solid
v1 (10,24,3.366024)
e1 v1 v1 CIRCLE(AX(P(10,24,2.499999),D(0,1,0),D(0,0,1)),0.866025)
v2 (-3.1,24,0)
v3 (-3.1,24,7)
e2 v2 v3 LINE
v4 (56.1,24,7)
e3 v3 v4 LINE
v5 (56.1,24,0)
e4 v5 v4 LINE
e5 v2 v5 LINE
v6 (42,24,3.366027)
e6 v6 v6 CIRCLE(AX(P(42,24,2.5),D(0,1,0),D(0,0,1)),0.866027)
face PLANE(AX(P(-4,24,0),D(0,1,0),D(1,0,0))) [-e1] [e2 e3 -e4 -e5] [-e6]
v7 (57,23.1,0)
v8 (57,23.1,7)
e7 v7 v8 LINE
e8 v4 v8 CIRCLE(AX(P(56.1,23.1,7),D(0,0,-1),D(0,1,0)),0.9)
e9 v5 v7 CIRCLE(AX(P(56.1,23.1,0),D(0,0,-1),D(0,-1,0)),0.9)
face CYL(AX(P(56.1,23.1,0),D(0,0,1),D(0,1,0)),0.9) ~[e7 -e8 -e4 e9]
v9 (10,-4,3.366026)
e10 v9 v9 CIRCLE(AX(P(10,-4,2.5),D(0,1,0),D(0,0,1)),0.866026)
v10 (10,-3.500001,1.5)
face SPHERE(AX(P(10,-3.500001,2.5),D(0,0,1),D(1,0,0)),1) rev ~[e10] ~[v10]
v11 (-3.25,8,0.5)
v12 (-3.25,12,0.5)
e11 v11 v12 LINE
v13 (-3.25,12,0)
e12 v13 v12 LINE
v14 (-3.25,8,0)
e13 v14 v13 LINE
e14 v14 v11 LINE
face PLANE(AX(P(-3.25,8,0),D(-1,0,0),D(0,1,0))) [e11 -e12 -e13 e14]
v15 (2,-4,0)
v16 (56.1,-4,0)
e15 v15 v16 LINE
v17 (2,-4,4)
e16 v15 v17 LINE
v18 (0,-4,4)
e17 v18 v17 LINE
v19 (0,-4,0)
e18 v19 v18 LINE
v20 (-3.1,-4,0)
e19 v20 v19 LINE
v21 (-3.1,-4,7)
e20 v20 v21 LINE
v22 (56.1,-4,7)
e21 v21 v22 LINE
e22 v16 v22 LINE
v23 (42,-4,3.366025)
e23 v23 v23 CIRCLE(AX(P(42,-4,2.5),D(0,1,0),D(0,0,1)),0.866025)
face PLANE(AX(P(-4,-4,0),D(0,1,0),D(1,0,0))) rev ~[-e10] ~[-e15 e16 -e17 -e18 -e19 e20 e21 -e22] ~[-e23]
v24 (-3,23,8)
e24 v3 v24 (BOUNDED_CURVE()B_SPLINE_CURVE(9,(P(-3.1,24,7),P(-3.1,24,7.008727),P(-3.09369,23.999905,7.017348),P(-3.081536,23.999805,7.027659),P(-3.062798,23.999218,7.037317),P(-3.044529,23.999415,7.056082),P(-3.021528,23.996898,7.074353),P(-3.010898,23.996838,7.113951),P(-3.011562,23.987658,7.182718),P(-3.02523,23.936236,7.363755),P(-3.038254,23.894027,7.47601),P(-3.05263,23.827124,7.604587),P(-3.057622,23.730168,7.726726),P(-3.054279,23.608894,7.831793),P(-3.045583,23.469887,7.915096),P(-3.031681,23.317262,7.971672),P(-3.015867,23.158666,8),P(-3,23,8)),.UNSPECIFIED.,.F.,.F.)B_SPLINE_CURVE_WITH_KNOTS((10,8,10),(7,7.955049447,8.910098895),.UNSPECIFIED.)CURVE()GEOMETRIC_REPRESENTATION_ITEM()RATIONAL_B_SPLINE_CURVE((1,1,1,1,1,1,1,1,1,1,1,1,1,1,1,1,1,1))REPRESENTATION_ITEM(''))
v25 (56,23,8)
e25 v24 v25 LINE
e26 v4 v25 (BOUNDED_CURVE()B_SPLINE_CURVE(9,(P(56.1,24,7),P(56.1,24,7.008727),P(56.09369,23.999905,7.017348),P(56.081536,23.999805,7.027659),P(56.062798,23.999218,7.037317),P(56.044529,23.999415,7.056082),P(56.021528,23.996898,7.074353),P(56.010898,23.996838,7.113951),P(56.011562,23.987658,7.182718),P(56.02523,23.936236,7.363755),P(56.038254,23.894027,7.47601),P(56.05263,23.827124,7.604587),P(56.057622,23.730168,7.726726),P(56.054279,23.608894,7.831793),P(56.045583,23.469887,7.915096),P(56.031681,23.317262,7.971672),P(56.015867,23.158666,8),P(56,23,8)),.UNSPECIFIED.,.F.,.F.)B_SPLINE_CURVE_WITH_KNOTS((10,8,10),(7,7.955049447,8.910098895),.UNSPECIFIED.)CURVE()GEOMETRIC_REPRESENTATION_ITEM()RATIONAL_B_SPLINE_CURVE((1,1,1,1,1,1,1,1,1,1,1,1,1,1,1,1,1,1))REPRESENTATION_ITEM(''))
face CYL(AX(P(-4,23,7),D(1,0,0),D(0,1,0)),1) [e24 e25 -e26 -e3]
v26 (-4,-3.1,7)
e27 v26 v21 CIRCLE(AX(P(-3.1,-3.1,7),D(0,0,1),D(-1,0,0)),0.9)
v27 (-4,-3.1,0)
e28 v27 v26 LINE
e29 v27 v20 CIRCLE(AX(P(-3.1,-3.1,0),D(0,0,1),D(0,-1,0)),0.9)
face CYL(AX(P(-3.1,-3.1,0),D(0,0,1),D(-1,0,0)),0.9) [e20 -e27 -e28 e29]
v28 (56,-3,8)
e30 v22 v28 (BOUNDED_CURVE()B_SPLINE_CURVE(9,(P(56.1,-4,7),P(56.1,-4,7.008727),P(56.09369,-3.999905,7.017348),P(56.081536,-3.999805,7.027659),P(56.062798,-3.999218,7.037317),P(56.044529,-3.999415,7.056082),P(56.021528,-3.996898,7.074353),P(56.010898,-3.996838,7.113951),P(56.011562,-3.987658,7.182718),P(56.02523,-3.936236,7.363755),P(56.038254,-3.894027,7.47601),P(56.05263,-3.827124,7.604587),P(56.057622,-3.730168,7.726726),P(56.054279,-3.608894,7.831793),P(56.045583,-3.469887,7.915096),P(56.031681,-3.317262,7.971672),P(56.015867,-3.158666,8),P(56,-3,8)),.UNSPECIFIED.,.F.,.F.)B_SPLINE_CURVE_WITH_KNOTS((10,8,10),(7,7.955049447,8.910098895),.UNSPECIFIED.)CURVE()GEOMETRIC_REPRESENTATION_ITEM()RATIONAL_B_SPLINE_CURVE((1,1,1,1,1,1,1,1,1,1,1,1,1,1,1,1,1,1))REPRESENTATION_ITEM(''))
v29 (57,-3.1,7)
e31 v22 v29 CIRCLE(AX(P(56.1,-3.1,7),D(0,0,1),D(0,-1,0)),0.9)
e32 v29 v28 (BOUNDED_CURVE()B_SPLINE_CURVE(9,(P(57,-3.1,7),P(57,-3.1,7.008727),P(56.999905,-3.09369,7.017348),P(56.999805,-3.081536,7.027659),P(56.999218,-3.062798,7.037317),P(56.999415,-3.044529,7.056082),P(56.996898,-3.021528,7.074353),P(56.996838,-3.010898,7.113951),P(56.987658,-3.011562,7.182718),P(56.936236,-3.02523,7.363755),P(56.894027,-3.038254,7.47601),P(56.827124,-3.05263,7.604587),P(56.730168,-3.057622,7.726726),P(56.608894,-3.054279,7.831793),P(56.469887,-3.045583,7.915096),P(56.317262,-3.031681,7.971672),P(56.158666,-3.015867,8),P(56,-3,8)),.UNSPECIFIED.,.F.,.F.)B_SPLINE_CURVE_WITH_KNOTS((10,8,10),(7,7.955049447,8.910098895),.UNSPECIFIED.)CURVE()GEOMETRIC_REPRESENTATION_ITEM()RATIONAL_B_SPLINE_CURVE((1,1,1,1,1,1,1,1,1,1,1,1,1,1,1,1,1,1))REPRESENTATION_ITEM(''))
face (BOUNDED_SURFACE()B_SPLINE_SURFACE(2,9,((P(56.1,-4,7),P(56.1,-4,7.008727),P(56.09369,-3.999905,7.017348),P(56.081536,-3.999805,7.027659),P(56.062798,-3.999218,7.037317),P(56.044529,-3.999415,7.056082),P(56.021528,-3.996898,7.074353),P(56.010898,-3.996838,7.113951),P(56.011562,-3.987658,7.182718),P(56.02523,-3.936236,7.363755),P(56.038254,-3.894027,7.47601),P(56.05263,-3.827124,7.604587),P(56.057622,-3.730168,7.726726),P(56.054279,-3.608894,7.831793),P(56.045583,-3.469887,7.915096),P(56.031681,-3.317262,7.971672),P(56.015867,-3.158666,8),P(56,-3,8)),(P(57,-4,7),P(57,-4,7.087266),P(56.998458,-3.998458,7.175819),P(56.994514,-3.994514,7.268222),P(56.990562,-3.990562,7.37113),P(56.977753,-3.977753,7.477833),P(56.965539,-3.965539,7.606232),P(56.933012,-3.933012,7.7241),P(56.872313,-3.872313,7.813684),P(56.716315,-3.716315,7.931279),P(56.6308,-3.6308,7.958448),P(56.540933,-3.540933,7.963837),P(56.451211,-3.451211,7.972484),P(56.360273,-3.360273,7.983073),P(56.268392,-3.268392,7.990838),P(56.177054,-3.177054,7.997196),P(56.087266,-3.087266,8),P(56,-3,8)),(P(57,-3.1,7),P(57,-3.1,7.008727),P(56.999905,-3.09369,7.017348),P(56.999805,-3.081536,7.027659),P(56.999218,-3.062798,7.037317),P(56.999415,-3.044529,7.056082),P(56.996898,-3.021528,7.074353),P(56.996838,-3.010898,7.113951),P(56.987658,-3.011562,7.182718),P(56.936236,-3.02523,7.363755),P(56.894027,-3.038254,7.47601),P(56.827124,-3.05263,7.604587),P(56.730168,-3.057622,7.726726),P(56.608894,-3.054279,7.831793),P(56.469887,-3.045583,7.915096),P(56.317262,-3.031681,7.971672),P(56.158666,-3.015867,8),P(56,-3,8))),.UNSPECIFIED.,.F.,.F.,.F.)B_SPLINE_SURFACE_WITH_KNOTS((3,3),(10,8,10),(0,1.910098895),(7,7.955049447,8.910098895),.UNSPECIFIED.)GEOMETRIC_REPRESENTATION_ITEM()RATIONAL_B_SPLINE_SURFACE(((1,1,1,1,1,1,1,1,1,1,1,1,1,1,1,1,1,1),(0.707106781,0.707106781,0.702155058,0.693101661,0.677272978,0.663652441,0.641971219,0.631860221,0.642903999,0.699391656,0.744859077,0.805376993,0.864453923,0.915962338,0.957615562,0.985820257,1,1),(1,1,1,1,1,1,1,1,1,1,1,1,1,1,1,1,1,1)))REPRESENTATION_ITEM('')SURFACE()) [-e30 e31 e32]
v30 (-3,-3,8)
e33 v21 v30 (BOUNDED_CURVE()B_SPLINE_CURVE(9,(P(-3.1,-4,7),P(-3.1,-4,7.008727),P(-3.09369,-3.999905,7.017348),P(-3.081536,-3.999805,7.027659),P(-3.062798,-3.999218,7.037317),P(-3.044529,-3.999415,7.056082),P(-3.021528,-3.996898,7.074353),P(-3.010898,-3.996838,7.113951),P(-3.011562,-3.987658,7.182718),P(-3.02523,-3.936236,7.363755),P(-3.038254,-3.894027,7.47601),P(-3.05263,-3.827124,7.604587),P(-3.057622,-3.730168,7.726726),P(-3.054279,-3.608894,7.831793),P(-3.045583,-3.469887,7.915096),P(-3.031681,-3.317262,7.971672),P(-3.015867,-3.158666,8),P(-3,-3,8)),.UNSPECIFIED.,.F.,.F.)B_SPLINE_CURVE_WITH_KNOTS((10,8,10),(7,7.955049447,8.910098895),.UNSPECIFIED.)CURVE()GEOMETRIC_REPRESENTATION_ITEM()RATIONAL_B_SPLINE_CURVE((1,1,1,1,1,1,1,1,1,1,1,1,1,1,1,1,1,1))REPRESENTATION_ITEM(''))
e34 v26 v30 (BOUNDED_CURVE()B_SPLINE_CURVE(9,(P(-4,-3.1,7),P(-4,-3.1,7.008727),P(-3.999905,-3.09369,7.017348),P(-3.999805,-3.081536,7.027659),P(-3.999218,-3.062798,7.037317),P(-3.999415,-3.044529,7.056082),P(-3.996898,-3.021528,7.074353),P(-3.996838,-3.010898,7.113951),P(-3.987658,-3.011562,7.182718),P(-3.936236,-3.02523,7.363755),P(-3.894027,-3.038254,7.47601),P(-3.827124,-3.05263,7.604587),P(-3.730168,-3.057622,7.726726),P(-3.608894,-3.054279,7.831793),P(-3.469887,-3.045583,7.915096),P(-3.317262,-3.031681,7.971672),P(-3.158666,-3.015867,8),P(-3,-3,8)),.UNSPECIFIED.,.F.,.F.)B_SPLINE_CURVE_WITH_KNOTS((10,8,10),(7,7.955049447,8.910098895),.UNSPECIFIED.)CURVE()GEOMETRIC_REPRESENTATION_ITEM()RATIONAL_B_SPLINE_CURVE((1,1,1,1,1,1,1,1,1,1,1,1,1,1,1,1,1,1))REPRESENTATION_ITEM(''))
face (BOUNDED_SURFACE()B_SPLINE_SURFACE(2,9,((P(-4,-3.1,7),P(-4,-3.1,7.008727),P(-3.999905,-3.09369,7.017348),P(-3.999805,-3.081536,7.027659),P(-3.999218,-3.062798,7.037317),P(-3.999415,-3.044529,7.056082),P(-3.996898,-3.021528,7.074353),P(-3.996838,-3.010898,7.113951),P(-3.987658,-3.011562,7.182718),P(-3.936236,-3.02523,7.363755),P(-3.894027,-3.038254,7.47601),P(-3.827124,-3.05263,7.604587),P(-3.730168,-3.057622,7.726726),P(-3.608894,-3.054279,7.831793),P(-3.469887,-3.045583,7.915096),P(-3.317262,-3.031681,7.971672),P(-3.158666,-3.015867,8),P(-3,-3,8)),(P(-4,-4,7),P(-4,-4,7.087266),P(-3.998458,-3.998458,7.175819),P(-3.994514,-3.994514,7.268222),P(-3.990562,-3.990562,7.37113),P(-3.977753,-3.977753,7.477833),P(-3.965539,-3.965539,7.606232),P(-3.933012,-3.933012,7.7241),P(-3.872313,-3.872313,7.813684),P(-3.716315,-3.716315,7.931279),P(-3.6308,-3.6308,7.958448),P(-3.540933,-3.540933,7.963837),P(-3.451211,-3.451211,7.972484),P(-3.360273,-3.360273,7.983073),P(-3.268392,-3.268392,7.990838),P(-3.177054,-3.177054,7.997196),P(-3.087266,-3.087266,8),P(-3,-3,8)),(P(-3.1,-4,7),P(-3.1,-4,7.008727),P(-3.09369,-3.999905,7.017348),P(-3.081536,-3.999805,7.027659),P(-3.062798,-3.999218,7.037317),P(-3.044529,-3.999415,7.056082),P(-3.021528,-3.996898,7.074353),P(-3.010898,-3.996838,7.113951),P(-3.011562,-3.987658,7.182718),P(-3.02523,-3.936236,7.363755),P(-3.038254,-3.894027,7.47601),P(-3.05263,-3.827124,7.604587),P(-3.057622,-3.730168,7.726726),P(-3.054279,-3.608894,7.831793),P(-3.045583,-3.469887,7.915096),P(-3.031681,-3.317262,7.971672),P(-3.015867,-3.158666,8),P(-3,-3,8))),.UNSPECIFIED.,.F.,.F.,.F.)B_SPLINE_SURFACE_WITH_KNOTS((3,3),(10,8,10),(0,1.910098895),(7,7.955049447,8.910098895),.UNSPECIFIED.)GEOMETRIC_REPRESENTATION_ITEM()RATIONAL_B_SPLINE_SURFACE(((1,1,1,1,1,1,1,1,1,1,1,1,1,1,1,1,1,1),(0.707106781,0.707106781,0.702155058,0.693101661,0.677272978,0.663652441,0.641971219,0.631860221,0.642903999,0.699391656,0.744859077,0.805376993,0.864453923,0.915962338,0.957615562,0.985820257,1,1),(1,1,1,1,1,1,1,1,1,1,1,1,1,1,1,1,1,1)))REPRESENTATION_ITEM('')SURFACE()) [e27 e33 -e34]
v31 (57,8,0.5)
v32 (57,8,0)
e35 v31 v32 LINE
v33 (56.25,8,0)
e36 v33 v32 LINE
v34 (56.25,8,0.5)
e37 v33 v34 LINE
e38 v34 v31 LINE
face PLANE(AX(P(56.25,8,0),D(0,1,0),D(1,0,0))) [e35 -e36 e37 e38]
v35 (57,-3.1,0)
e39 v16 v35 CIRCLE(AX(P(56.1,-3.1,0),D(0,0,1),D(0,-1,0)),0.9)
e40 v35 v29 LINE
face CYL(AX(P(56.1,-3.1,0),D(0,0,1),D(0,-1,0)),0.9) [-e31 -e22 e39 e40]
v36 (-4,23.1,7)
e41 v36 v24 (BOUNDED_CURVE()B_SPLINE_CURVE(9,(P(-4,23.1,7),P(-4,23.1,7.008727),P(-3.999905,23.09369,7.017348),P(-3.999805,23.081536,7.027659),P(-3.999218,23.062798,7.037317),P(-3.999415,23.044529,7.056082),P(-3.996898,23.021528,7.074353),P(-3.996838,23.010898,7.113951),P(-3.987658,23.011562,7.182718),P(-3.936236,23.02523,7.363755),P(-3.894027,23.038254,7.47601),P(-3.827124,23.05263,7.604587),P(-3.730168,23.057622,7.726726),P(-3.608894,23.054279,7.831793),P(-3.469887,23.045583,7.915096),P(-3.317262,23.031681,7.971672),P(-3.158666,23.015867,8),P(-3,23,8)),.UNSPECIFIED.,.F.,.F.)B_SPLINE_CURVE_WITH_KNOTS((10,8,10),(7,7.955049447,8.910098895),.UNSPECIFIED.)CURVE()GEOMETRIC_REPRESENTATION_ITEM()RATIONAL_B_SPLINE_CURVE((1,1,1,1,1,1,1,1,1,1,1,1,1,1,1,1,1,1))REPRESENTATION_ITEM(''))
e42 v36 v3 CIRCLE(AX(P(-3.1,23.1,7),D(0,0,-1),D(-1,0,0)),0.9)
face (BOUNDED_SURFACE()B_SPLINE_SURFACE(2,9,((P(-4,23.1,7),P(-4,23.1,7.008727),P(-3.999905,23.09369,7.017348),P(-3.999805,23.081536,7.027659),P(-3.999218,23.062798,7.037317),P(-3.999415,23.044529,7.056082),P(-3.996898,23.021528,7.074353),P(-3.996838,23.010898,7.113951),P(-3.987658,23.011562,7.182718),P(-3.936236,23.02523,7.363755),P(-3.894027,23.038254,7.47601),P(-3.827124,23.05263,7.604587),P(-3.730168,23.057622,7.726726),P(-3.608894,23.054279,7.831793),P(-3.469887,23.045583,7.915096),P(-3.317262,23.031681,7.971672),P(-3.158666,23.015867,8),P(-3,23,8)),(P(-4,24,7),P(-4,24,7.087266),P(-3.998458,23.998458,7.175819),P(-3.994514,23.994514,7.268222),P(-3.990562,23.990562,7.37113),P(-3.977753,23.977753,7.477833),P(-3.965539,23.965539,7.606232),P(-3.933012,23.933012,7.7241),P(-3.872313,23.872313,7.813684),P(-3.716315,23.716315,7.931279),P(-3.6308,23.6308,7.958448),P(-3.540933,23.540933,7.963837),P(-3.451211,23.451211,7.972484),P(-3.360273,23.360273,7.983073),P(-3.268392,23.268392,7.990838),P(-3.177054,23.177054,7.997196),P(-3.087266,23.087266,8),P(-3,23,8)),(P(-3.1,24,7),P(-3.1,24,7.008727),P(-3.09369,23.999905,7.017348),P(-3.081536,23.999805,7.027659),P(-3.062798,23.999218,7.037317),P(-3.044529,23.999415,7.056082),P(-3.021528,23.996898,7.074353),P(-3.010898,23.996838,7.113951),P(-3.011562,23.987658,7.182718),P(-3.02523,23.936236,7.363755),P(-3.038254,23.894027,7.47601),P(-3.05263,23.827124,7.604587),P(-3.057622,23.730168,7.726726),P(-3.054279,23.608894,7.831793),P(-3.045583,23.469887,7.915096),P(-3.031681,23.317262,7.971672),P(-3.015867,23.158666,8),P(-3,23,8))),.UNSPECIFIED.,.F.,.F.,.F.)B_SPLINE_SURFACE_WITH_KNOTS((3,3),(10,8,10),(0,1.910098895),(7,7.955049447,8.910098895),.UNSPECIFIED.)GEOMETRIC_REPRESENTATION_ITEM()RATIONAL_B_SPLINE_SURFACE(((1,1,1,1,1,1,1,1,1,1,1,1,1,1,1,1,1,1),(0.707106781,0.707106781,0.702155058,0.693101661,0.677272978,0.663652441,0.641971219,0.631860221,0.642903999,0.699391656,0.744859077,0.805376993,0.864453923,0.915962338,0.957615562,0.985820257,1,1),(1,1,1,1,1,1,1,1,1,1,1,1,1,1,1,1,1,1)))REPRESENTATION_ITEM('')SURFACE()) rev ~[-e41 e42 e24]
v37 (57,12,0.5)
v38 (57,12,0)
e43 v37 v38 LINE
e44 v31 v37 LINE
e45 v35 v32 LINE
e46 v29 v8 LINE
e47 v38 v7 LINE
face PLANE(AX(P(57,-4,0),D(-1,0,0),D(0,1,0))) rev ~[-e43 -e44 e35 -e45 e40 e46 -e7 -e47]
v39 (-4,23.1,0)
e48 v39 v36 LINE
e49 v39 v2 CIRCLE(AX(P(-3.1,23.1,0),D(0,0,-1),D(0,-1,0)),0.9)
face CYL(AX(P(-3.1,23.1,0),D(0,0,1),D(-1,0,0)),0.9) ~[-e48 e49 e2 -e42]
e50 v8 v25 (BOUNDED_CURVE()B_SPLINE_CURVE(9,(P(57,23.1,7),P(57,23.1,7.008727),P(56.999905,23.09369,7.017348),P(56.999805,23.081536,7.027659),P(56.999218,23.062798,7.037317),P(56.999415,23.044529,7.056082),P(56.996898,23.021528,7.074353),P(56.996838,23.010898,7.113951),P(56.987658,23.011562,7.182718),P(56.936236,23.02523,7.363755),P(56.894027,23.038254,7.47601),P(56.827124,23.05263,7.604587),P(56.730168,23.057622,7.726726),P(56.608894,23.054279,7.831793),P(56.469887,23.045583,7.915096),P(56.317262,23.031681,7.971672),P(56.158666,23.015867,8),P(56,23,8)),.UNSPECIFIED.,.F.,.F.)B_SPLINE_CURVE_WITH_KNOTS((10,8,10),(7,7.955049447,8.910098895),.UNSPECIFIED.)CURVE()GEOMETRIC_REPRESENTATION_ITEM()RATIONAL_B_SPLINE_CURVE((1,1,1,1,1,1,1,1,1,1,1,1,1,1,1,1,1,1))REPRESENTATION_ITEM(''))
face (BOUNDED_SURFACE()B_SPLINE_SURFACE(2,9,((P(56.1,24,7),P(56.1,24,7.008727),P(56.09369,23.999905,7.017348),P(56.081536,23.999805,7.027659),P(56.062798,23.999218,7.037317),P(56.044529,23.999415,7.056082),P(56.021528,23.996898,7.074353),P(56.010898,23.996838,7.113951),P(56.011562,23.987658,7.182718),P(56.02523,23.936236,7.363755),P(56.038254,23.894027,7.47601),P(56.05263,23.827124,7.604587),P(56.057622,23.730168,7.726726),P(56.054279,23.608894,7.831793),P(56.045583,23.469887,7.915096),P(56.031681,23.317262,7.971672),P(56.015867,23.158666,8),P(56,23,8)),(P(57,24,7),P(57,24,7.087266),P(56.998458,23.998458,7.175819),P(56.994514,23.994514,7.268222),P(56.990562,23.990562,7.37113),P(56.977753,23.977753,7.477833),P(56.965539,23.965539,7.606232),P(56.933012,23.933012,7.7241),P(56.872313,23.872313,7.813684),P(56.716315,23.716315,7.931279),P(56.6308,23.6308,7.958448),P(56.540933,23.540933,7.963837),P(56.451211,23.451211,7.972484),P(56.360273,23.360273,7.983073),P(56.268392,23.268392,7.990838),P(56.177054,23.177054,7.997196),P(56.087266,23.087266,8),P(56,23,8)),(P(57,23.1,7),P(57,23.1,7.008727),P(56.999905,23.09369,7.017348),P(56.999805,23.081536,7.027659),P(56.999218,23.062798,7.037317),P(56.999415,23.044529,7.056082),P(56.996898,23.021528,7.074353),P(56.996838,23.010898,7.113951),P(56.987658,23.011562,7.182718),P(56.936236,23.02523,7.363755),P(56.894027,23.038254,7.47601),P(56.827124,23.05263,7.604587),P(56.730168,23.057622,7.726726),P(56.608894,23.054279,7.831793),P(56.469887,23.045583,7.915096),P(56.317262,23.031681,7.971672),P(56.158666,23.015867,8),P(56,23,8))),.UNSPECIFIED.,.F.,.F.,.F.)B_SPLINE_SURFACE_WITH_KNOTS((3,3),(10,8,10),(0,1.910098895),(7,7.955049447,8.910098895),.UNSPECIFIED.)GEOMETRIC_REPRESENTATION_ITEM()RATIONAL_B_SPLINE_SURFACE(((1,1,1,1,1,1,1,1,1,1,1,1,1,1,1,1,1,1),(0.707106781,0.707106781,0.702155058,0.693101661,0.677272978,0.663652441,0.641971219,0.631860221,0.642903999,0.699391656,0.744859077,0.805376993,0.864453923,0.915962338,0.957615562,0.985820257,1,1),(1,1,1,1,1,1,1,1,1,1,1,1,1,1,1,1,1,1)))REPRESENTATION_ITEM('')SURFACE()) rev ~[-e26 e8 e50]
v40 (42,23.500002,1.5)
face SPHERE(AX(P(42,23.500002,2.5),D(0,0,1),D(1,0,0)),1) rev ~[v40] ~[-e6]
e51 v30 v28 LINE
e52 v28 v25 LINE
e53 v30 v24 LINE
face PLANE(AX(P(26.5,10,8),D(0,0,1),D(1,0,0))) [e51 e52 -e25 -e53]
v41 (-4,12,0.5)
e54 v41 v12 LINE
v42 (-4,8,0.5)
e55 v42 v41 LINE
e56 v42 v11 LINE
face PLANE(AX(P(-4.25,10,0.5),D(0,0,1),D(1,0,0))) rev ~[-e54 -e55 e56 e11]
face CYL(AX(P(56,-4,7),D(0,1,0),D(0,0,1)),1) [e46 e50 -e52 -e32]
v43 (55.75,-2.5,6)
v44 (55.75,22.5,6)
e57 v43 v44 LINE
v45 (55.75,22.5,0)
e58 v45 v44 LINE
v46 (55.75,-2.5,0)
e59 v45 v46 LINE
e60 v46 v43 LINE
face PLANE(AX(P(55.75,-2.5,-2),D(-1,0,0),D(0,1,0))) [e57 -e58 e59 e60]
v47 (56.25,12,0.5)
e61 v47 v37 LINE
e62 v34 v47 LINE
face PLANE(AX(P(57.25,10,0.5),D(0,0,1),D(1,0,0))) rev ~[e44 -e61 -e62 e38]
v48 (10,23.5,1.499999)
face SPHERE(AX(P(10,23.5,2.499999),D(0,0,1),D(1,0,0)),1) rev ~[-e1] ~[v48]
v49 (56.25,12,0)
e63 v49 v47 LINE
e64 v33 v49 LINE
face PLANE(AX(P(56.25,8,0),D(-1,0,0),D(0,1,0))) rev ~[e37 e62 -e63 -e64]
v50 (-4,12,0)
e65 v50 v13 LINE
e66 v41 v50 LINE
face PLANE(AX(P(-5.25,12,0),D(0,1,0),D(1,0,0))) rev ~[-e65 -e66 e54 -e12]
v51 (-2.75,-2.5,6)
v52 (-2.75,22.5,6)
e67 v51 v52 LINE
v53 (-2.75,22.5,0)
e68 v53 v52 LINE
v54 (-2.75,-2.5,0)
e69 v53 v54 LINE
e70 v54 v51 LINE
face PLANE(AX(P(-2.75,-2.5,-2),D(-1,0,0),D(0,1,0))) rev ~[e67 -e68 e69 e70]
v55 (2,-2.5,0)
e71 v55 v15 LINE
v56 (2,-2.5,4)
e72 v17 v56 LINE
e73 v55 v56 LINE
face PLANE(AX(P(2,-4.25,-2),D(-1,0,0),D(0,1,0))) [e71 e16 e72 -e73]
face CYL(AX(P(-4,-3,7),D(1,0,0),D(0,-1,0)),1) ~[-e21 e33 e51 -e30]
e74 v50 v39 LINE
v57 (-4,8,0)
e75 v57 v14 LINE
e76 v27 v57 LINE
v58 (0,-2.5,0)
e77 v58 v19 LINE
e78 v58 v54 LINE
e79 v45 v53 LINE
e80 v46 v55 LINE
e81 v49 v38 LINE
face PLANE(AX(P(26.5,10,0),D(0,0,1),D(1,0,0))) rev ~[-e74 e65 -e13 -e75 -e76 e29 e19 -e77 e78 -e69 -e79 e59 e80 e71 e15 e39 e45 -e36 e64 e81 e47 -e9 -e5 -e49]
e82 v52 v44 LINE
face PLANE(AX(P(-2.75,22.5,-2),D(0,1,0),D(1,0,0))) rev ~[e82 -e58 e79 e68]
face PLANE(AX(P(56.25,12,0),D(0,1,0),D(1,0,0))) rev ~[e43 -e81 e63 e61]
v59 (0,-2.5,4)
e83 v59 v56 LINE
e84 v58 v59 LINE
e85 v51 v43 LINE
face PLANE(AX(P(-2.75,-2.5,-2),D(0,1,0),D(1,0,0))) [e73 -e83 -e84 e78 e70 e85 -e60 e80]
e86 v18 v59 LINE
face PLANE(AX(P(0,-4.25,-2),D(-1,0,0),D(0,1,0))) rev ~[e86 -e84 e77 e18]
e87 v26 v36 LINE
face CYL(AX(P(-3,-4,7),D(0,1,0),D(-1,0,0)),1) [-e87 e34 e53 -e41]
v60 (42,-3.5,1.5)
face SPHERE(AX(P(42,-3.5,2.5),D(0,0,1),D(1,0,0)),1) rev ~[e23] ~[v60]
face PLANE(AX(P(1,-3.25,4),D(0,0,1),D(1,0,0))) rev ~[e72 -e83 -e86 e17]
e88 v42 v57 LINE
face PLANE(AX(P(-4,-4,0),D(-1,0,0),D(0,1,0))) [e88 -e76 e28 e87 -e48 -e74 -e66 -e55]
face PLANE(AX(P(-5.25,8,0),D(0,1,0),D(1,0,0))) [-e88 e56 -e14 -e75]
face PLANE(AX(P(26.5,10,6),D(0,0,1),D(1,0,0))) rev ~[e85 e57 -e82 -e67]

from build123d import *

# Parameters (mm, degrees)
BOX015_W     = 2
BOX015_H     = 4
BOX015_DEPTH = 0.5
BOX014_W     = 2
BOX014_H     = 4
BOX014_DEPTH = 0.5
BOX004_W     = 2
BOX004_H     = 2
BOX004_DEPTH = 6
BOX001_W     = 58.5
BOX001_H     = 25
BOX001_DEPTH = 8
BOX002_W     = 61
BOX002_H     = 28
BOX002_DEPTH = 8
FILLET_R     = 1
FILLET004_R  = 0.9


with BuildPart() as w_rfel010:
    # Box015 → Box015 (new body)
    with BuildSketch(Plane(origin=(56.25, 8, 0), x_dir=(1, 0, 0), z_dir=(0, 0, 1))):
        with Locations((1, 2)):
            Rectangle(BOX015_W, BOX015_H)
    extrude(amount=BOX015_DEPTH)


with BuildPart() as w_rfel009:
    # Box014 → Box014 (new body)
    with BuildSketch(Plane(origin=(-5.25, 8, 0), x_dir=(1, 0, 0), z_dir=(0, 0, 1))):
        with Locations((1, 2)):
            Rectangle(BOX014_W, BOX014_H)
    extrude(amount=BOX014_DEPTH)


with BuildPart() as w_rfel003:
    # Box004 → Box004 (new body)
    with BuildSketch(Plane(origin=(0, -4.25, -2), x_dir=(1, 0, 0), z_dir=(0, 0, 1))):
        with Locations((1, 1)):
            Rectangle(BOX004_W, BOX004_H)
    extrude(amount=BOX004_DEPTH)


with BuildPart() as noppel1:
    # Sphere → Sphere (revolve)
    with BuildSketch(Plane(origin=(10, -2, 2), x_dir=(1, 0, 0), z_dir=(0, -1, 0))):
        with BuildLine():
            ThreePointArc((0, -1), (1, 0), (0, 1))
            Line((0, 1), (0, -1))
        make_face()
    revolve(axis=Axis((10, -2, 2), (0, 0, 1)))


with BuildPart() as noppel006:
    # Link006 base: copy of Noppel1
    add(noppel1.part)


with BuildPart() as noppel006_1:
    # Link006 placement: moved
    add(noppel006.part.moved(Location((32, 24, -0.5))))


with BuildPart() as noppel006_2:
    # Link008 placement: moved
    add(noppel006_1.part.moved(Location((0, 1.500002, 1))))


with BuildPart() as noppel005:
    # Link005 base: copy of Noppel1
    add(noppel1.part)


with BuildPart() as noppel005_1:
    # Link005 placement: moved
    add(noppel005.part.moved(Location((0, 24, -0.5))))


with BuildPart() as noppel005_2:
    # Link007 placement: moved
    add(noppel005_1.part.moved(Location((0, 1.5, 0.999999))))


with BuildPart() as noppel004:
    # Link004 base: copy of Noppel1
    add(noppel1.part)


with BuildPart() as noppel004_1:
    # Link004 placement: moved
    add(noppel004.part.moved(Location((0, -1.500001, 0.5))))


with BuildPart() as noppel003:
    # Link002 base: copy of Noppel1
    add(noppel1.part)


with BuildPart() as noppel003_1:
    # Link002 placement: moved
    add(noppel003.part.moved(Location((32, 0, -0.5))))


with BuildPart() as noppel003_2:
    # Link003 placement: moved
    add(noppel003_1.part.moved(Location((0, -1.5, 1))))


with BuildPart() as base:
    # Box001 → Box001 (new body)
    with BuildSketch(Plane(origin=(-2.75, -2.5, -2), x_dir=(1, 0, 0), z_dir=(0, 0, 1))):
        with Locations((29.25, 12.5)):
            Rectangle(BOX001_W, BOX001_H)
    extrude(amount=BOX001_DEPTH)


with BuildPart() as cut014:
    # Box002 → Box002 (new body)
    with BuildSketch(Plane(origin=(-4, -4, 0), x_dir=(1, 0, 0), z_dir=(0, 0, 1))):
        with Locations((30.5, 14)):
            Rectangle(BOX002_W, BOX002_H)
    extrude(amount=BOX002_DEPTH)

    # Cut001: cut Base
    add(base.part, mode=Mode.SUBTRACT)

    # Cut002: cut Noppel003
    add(noppel003_2.part, mode=Mode.SUBTRACT)

    # Cut003: cut Noppel004
    add(noppel004_1.part, mode=Mode.SUBTRACT)

    # Cut004: cut Noppel005
    add(noppel005_2.part, mode=Mode.SUBTRACT)

    # Cut005: cut Noppel006
    add(noppel006_2.part, mode=Mode.SUBTRACT)

    # Cut007: cut Würfel003
    add(w_rfel003.part, mode=Mode.SUBTRACT)

    # Fillet
    fillet_edges = [cut014.edges().sort_by_distance(p)[0] for p in [
        (-4, 10, 8),
        (26.5, -4, 8),
        (26.5, 24, 8),
        (57, 10, 8),
    ]]
    fillet(fillet_edges, radius=FILLET_R)

    # Fillet004
    fillet004_edges = [cut014.edges().sort_by_distance(p)[0] for p in [
        (-4, -4, 3.5),
        (-4, 24, 3.5),
        (57, -4, 3.5),
        (57, 24, 3.5),
    ]]
    fillet(fillet004_edges, radius=FILLET004_R)

    # Cut: cut Würfel009
    add(w_rfel009.part, mode=Mode.SUBTRACT)

    # Cut012: cut Würfel010
    add(w_rfel010.part, mode=Mode.SUBTRACT)


solid = cut014.part
